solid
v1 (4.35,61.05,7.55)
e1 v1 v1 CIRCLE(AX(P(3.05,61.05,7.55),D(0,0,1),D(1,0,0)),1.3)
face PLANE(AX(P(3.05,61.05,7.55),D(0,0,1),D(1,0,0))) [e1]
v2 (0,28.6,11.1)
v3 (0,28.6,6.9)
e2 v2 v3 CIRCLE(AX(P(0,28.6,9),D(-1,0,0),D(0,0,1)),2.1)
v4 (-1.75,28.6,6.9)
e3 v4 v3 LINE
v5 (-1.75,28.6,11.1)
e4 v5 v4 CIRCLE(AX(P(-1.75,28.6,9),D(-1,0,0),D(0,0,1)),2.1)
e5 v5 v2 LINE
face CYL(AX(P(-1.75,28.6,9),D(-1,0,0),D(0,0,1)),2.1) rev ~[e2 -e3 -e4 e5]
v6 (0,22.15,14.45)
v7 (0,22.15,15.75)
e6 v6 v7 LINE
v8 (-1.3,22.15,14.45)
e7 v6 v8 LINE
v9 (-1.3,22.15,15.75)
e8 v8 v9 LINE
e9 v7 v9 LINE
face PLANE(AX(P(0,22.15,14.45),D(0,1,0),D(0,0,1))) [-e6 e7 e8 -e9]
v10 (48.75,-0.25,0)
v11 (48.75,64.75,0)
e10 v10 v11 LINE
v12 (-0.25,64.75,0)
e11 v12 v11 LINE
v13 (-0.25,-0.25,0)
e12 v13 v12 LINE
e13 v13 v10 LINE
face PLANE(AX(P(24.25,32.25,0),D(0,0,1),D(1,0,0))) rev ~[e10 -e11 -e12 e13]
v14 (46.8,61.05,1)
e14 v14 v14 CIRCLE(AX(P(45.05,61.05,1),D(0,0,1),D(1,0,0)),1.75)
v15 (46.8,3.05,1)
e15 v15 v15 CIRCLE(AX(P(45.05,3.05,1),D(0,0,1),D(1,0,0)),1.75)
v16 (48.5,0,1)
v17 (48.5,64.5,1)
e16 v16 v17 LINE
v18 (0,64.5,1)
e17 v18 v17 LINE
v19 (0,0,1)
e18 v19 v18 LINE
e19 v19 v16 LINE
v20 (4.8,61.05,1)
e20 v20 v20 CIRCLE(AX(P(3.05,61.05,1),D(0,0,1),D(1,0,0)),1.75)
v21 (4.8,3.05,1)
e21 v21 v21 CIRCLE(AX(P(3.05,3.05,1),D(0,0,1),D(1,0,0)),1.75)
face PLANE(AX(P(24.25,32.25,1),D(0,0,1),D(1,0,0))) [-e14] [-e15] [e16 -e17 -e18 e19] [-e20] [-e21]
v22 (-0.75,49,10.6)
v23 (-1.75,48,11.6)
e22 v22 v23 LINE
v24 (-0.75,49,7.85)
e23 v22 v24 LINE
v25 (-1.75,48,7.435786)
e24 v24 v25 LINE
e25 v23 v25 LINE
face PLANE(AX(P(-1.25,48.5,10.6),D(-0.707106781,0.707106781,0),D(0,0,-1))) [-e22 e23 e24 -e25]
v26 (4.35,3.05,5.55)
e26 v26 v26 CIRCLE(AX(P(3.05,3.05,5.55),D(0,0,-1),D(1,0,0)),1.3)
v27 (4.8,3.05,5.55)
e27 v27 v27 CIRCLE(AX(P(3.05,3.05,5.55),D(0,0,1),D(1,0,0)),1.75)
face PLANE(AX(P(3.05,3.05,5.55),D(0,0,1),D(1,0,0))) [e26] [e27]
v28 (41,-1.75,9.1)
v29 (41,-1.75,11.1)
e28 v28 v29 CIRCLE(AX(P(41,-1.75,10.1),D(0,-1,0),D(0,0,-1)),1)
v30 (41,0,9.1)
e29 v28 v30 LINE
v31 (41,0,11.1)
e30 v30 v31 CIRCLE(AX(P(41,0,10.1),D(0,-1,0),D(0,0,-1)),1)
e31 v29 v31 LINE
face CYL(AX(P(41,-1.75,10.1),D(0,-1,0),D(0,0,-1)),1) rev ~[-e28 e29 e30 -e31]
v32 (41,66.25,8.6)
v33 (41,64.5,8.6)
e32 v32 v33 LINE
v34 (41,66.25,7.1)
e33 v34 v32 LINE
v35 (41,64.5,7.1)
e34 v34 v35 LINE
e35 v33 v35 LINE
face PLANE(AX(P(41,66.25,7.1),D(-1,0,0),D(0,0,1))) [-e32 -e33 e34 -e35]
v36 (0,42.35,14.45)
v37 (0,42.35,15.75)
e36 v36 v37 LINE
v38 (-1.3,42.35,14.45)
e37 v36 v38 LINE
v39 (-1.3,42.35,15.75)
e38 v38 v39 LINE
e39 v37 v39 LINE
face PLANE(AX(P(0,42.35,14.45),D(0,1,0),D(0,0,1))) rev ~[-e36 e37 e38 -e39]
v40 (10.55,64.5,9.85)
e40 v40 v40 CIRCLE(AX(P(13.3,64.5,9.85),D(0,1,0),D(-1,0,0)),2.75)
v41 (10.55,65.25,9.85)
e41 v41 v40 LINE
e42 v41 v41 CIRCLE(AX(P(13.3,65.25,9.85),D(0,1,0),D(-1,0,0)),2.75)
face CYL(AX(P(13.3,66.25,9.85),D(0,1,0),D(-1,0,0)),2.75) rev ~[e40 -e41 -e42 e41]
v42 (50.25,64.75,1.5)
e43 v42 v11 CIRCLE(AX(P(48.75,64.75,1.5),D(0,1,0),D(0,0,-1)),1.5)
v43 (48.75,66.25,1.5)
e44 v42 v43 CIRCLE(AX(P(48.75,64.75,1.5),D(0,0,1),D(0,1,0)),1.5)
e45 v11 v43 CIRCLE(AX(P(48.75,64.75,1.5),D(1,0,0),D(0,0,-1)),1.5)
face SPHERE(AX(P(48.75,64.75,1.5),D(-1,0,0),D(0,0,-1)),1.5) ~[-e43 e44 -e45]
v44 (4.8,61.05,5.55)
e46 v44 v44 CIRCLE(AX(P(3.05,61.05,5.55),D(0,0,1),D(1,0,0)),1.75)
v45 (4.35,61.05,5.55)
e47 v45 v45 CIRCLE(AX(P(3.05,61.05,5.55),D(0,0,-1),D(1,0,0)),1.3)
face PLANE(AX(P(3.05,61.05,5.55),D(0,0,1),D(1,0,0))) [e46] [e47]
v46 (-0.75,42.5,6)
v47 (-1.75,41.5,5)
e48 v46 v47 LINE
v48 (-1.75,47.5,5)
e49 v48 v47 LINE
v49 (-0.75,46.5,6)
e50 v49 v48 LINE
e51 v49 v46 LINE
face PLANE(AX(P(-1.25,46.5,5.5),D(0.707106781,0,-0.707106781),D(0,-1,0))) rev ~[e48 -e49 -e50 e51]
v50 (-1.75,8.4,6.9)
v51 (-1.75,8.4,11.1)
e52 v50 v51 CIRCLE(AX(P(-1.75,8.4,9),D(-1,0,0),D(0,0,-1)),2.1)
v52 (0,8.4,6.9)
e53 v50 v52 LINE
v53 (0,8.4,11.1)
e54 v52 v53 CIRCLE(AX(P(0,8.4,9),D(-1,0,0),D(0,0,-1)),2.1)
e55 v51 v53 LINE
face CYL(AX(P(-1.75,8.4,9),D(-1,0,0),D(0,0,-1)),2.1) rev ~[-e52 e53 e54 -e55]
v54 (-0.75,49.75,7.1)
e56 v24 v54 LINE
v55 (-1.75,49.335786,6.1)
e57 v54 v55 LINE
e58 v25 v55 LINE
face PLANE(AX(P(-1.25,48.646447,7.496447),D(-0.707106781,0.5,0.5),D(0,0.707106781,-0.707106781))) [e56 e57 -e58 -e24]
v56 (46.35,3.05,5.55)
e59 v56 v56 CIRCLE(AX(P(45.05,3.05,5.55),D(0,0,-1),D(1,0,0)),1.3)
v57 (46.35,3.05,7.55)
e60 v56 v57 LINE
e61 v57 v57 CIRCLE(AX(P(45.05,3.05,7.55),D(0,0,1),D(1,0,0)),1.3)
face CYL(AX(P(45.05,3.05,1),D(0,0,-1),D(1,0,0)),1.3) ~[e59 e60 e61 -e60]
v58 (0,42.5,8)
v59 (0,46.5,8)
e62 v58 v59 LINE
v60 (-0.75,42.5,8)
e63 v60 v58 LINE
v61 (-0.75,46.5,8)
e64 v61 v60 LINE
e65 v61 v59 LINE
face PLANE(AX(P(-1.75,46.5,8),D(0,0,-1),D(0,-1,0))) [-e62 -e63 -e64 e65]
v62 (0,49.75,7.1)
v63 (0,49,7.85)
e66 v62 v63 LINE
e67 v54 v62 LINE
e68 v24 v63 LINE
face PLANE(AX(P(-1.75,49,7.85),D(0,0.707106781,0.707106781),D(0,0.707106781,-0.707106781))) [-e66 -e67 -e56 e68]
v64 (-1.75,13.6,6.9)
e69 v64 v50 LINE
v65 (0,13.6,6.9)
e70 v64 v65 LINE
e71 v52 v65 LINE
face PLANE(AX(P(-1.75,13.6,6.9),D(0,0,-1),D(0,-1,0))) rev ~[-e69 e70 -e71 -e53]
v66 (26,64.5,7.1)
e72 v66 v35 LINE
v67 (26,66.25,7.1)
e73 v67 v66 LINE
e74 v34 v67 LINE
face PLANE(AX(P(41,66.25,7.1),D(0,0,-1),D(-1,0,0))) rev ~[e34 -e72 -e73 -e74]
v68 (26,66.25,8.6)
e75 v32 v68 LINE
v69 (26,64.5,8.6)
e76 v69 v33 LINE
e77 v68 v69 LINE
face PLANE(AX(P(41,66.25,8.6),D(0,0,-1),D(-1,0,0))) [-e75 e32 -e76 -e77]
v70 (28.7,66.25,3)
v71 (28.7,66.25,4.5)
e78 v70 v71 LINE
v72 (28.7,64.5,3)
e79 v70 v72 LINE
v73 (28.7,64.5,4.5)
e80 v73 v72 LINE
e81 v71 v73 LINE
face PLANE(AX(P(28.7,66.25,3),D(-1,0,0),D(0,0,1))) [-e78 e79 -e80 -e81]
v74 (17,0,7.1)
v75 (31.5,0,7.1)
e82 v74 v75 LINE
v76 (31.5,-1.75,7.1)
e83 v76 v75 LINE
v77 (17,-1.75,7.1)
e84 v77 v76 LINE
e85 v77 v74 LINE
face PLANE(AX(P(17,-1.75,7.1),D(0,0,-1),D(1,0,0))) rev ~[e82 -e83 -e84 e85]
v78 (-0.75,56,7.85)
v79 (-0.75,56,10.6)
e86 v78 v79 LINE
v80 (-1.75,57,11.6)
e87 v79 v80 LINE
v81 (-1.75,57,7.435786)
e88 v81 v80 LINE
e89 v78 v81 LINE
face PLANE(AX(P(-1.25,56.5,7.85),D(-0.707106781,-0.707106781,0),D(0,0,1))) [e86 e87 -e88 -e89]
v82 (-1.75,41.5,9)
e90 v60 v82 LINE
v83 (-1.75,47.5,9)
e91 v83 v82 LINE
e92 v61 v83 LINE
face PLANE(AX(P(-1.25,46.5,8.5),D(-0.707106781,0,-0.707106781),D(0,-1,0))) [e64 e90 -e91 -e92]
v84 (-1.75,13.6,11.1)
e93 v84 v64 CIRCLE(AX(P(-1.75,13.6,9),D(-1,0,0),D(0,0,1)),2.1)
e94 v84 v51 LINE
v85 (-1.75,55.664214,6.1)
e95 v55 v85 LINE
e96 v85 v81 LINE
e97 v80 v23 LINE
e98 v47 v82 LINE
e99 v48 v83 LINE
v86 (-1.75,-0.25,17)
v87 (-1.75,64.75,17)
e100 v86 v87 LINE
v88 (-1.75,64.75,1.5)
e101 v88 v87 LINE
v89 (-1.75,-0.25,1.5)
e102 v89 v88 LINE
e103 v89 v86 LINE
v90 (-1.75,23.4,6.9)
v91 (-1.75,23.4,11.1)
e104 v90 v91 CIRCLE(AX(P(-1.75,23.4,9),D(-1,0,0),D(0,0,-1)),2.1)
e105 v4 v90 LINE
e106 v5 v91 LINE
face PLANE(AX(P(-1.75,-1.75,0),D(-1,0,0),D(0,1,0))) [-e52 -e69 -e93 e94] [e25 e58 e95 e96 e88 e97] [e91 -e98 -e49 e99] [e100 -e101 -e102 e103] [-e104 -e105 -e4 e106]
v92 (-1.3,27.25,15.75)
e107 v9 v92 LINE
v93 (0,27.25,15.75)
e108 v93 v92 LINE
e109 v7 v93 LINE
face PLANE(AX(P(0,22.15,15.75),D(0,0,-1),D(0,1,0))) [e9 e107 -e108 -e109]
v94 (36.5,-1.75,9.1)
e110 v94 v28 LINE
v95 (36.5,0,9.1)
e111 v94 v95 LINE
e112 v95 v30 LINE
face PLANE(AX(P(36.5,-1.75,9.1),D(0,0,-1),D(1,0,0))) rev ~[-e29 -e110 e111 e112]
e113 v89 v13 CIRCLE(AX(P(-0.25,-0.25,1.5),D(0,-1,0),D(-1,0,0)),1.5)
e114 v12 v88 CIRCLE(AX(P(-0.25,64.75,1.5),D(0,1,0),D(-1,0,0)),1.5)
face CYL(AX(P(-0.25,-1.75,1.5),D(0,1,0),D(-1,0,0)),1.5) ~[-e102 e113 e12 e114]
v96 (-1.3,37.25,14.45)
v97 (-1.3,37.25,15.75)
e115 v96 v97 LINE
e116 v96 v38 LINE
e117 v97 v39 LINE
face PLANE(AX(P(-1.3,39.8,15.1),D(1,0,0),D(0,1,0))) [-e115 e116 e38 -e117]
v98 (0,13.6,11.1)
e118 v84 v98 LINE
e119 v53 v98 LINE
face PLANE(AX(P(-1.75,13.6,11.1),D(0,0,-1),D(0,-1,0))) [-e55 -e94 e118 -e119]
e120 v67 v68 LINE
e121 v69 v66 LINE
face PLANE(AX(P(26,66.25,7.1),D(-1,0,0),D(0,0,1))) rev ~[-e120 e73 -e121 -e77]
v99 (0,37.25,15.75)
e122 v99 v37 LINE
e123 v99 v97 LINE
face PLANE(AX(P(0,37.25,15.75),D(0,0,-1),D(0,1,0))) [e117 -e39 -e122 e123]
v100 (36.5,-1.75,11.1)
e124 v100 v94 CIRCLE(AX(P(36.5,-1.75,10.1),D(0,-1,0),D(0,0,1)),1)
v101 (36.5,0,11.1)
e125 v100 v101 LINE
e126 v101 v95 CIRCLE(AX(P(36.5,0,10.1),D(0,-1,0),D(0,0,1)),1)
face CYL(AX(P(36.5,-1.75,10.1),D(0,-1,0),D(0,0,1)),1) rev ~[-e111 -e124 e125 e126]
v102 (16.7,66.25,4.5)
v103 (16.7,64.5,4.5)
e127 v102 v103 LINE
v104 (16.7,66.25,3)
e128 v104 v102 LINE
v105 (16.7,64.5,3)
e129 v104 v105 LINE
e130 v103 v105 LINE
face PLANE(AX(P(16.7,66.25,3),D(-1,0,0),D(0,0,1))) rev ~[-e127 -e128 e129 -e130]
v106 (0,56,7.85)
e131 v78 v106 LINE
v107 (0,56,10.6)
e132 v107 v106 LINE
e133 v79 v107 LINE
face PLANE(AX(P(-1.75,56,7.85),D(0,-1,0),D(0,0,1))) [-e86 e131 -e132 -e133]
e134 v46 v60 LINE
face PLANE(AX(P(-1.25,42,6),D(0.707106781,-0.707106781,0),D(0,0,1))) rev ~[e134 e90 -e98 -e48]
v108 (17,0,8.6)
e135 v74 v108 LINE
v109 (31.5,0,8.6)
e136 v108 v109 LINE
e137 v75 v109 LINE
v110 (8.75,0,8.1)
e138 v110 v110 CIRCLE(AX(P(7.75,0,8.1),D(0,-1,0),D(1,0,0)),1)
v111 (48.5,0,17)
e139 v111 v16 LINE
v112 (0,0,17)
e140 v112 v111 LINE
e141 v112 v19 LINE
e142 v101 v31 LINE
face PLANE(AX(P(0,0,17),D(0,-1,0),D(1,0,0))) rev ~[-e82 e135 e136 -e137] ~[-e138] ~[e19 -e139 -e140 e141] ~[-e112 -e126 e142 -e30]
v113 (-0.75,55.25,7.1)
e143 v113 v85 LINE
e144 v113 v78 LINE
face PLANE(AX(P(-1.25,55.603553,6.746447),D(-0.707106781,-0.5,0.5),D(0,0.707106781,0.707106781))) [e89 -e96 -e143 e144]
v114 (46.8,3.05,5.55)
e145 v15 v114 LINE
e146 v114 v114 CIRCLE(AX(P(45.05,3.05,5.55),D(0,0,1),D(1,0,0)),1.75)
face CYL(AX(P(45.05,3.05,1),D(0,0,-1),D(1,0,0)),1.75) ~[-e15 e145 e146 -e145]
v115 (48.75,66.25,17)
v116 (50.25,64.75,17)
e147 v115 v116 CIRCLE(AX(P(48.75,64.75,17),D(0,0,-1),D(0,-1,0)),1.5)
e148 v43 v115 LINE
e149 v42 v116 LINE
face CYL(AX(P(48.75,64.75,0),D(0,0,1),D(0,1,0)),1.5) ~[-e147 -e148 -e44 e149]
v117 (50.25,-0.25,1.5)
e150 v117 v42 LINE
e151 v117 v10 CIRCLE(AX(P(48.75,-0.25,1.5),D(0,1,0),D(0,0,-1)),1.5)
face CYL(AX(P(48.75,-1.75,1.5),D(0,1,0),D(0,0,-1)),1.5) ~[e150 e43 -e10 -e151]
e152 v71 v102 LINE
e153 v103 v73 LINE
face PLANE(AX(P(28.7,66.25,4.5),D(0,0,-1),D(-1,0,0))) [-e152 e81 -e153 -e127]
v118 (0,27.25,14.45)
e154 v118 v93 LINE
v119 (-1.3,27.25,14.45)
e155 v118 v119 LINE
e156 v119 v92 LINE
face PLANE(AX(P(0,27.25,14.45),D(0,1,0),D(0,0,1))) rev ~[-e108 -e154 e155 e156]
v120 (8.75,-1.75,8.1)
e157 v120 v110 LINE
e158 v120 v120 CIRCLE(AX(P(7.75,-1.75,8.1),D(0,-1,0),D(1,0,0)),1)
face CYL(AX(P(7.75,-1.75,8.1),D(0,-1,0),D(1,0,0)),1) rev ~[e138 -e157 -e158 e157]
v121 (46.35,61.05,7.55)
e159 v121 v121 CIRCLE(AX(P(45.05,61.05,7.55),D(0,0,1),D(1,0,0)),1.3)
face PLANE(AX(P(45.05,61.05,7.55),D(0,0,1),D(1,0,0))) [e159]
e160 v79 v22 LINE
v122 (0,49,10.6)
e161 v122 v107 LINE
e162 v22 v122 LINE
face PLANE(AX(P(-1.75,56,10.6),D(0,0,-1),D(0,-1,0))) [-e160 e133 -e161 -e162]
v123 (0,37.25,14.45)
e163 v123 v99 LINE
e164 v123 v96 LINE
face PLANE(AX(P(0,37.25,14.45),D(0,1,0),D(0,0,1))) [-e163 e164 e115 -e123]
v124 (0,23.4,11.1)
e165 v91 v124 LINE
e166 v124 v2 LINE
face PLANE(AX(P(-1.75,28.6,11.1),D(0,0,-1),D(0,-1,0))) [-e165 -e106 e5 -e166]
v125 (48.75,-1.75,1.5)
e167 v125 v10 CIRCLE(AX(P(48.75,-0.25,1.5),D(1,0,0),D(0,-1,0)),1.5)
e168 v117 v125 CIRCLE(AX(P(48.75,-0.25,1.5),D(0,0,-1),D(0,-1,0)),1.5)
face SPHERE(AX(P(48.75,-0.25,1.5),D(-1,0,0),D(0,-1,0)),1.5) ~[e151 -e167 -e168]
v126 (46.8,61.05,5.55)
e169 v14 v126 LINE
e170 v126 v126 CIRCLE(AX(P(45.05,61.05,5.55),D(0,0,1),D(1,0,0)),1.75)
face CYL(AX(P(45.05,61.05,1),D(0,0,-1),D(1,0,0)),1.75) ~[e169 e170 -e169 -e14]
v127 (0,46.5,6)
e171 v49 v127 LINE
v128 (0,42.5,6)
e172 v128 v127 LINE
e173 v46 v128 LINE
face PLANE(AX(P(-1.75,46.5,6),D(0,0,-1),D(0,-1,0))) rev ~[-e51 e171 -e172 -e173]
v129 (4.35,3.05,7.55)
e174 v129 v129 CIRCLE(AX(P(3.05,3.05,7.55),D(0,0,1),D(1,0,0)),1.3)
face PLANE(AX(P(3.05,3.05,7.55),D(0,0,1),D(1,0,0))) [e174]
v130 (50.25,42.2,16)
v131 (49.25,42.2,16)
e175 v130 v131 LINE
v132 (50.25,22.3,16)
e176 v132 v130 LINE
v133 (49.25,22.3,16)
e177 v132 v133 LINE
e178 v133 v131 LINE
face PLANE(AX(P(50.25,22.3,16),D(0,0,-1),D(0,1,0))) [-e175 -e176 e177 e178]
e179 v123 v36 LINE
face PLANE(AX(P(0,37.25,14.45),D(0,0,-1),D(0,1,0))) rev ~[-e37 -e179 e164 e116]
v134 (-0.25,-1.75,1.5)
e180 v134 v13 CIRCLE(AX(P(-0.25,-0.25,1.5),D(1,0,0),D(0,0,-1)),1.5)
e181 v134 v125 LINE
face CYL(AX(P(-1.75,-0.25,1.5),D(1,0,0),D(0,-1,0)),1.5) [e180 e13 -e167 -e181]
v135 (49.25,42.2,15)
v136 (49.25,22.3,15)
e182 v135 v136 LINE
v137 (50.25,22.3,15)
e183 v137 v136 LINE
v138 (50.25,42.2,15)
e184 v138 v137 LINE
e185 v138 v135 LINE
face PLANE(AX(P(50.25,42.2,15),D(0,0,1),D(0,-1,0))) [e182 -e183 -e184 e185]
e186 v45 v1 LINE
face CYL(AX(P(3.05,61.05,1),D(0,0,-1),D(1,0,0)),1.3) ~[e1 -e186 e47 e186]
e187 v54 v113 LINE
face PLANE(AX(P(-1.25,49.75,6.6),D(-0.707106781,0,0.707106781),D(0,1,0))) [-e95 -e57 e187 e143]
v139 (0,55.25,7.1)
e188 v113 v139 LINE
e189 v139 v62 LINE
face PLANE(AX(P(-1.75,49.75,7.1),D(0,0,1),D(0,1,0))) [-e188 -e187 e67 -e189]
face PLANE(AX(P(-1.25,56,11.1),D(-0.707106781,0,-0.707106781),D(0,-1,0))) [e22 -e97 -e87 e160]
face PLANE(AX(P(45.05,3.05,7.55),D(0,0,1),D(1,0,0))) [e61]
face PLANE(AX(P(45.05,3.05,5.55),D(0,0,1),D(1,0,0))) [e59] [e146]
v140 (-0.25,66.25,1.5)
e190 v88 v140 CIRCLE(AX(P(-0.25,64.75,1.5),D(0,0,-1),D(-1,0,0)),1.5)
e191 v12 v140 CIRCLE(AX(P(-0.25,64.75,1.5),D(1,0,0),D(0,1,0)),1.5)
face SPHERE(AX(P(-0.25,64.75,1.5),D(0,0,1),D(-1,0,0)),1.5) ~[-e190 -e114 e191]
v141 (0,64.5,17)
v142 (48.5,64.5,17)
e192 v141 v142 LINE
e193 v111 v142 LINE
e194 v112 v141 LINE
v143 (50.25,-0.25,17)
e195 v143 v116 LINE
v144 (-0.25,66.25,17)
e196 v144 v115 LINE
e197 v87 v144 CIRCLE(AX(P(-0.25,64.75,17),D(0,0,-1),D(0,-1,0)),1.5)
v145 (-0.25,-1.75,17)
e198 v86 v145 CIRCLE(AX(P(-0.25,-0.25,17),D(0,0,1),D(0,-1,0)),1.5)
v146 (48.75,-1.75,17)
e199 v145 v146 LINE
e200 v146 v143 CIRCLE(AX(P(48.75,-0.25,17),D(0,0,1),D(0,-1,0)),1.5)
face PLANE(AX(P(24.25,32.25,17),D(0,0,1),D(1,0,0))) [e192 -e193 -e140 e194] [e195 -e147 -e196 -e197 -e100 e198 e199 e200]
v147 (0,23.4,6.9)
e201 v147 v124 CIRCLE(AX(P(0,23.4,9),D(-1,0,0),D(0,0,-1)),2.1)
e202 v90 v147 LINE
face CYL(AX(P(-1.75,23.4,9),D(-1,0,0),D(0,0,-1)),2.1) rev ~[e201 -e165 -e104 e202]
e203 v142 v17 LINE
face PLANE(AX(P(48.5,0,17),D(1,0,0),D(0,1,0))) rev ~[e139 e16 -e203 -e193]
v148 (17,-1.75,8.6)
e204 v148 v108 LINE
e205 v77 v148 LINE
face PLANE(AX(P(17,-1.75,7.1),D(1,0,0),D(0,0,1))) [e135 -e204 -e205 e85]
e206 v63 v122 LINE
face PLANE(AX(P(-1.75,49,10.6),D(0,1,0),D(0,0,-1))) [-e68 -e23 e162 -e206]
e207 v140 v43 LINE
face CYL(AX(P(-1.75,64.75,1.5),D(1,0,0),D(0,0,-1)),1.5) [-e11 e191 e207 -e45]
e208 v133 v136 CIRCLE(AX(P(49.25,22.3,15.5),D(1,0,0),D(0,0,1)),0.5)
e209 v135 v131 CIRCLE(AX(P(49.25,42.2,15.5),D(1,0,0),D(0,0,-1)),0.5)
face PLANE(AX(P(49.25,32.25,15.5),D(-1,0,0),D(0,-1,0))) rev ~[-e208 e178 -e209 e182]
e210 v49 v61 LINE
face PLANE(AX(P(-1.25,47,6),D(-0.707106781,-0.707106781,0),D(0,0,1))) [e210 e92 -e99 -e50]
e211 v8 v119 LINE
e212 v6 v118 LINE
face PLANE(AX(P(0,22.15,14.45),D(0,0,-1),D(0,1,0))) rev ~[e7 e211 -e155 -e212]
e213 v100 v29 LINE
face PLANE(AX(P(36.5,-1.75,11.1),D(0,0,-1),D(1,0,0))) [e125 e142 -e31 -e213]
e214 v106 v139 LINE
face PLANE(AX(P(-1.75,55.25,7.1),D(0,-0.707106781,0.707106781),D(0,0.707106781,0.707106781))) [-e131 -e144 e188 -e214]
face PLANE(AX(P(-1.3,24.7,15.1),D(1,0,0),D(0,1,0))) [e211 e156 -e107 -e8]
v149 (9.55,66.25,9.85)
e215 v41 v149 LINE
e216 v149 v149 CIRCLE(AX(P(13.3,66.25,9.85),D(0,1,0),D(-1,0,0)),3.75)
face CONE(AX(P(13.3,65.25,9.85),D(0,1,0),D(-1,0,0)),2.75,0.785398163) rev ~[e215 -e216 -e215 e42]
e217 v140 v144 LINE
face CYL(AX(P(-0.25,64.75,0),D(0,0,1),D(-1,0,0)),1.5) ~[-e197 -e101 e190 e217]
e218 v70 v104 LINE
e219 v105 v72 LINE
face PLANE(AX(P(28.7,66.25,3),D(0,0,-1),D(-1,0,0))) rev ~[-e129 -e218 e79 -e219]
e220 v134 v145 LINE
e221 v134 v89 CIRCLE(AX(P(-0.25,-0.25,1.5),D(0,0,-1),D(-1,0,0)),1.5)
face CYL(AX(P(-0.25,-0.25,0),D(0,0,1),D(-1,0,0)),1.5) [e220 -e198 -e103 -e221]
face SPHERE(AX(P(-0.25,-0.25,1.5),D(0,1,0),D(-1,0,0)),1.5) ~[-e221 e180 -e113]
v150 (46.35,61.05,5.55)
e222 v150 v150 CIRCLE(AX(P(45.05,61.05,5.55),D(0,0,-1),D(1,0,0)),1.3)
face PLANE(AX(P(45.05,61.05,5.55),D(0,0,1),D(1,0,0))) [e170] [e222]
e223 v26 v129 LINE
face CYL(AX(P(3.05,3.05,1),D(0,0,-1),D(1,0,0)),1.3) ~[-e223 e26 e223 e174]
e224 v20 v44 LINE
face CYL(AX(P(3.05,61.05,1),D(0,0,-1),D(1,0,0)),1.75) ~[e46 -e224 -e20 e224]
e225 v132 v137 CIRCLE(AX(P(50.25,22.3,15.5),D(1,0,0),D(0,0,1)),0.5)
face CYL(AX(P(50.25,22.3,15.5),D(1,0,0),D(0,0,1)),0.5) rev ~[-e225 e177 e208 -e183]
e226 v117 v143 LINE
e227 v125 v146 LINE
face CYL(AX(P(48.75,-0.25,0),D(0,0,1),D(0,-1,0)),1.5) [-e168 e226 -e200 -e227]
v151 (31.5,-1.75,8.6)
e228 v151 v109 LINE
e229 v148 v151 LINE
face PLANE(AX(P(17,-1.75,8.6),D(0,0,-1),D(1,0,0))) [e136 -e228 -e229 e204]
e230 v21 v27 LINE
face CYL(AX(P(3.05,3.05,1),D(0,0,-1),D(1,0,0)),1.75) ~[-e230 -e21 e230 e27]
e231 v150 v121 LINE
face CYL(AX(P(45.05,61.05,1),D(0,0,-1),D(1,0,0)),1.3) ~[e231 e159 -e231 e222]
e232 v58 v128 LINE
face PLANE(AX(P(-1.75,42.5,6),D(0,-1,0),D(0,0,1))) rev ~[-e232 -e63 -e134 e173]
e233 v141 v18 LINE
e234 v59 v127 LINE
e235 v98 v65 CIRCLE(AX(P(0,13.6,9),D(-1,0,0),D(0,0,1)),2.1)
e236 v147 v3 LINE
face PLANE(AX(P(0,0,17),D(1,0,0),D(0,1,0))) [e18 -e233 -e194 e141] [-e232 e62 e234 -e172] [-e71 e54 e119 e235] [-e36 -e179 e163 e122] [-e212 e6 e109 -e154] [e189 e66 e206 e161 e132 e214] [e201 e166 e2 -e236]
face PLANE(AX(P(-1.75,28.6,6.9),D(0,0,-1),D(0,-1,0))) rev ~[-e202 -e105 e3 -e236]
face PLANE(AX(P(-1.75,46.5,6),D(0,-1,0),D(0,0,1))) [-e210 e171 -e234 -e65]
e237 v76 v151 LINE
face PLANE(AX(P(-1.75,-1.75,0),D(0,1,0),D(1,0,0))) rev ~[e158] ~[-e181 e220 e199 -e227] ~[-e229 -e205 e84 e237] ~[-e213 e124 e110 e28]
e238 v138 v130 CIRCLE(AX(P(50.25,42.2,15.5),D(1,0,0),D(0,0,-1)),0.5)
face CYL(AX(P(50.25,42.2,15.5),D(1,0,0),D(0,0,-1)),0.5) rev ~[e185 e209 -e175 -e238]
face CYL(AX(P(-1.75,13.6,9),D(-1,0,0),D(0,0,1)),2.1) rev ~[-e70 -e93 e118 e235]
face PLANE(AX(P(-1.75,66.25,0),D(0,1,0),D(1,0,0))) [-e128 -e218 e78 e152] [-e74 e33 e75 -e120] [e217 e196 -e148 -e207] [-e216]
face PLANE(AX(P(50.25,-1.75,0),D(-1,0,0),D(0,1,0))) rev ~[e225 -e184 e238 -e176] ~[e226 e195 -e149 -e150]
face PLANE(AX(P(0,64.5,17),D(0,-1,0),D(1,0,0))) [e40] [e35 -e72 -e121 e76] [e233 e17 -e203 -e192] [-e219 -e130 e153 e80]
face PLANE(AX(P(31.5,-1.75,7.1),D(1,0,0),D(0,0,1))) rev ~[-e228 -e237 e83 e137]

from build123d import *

# Parameters (mm, degrees)
SKETCH_W        = 52
SKETCH_H        = 68
PAD_DEPTH       = 17
SKETCH001_W     = 48.5
SKETCH001_H     = 64.5
POCKET_DEPTH    = 16
SKETCH002_R     = 1.75
PAD001_DEPTH    = 4.55
SKETCH003_R     = 1.3
PAD002_DEPTH    = 6.55
SKETCH004_W     = 4
SKETCH004_H     = 2
POCKET001_DEPTH = 5
POCKET002_DEPTH = 5
SKETCH006_R     = 2.75
SKETCH006_W     = 12
SKETCH006_H     = 1.5
SKETCH006_W_2   = 15
POCKET003_DEPTH = 5
SKETCH007_R     = 1
SKETCH007_W     = 14.5
SKETCH007_H     = 1.5
POCKET004_DEPTH = 5
POCKET006_DEPTH = 1
SKETCH008_W     = 5.1
SKETCH008_H     = 1.3
POCKET007_DEPTH = 1.3
CHAMFER_SIZE    = 1
FILLET_R        = 1.5


with BuildPart() as part:
    # Sketch → Pad (new body)
    with BuildSketch(Plane.XY):
        with Locations((24.25, 32.25)):
            Rectangle(SKETCH_W, SKETCH_H)
    extrude(amount=PAD_DEPTH)

    # Sketch001 → Pocket (cut)
    with BuildSketch(Plane.XY.offset(17)):
        with Locations((24.25, 32.25)):
            Rectangle(SKETCH001_W, SKETCH001_H)
    extrude(amount=-POCKET_DEPTH, mode=Mode.SUBTRACT)

    # Sketch002 (on Face11 of Pocket) → Pad001 (join)
    with BuildSketch(Plane.XY.offset(1)):
        with Locations((3.05, 3.05)):
            Circle(SKETCH002_R)
        with Locations((3.05, 61.05)):
            Circle(SKETCH002_R)
        with Locations((45.05, 3.05)):
            Circle(SKETCH002_R)
        with Locations((45.05, 61.05)):
            Circle(SKETCH002_R)
    extrude(amount=PAD001_DEPTH)

    # Sketch003 (on Face11 of Pad001) → Pad002 (join)
    with BuildSketch(Plane.XY.offset(1)):
        with Locations((3.05, 61.05)):
            Circle(SKETCH003_R)
        with Locations((45.05, 61.05)):
            Circle(SKETCH003_R)
        with Locations((3.05, 3.05)):
            Circle(SKETCH003_R)
        with Locations((45.05, 3.05)):
            Circle(SKETCH003_R)
    extrude(amount=PAD002_DEPTH)

    # Sketch004 (on Face2 of Pad002) → Pocket001 (cut)
    with BuildSketch(Plane(origin=(-1.75, 0, 0), x_dir=(0, -1, 0), z_dir=(-1, 0, 0))):
        with BuildLine():
            ThreePointArc((-28.6, 11.1), (-30.7, 9), (-28.6, 6.9))
            Line((-28.6, 6.9), (-23.4, 6.9))
            ThreePointArc((-23.4, 6.9), (-21.3, 9), (-23.4, 11.1))
            Line((-28.6, 11.1), (-23.4, 11.1))
        make_face()
        with BuildLine():
            ThreePointArc((-13.6, 11.1), (-15.7, 9), (-13.6, 6.9))
            Line((-13.6, 6.9), (-8.4, 6.9))
            ThreePointArc((-8.4, 6.9), (-6.3, 9), (-8.4, 11.1))
            Line((-13.6, 11.1), (-8.4, 11.1))
        make_face()
        with Locations((-44.5, 7)):
            Rectangle(SKETCH004_W, SKETCH004_H)
    extrude(amount=-POCKET001_DEPTH, mode=Mode.SUBTRACT)

    # Sketch005 (on Face2 of Pocket001) → Pocket002 (cut)
    with BuildSketch(Plane(origin=(-1.75, 0, 0), x_dir=(0, -1, 0), z_dir=(-1, 0, 0))):
        Polygon((-56, 10.6), (-49, 10.6), (-49, 7.85), (-49.75, 7.1), (-55.25, 7.1), (-56, 7.85), align=None)
    extrude(amount=-POCKET002_DEPTH, mode=Mode.SUBTRACT)

    # Sketch006 (on Face1 of Pocket002) → Pocket003 (cut)
    with BuildSketch(Plane(origin=(0, 66.25, 0), x_dir=(-1, 0, 0), z_dir=(0, 1, 0))):
        with Locations((-13.3, 9.85)):
            Circle(SKETCH006_R)
        with Locations((-22.7, 3.75)):
            Rectangle(SKETCH006_W, SKETCH006_H)
        with Locations((-33.5, 7.85)):
            Rectangle(SKETCH006_W_2, SKETCH006_H)
    extrude(amount=-POCKET003_DEPTH, mode=Mode.SUBTRACT)

    # Sketch007 (on Face15 of Pocket007) → Pocket004 (cut)
    with BuildSketch(Plane.XZ.offset(1.75)):
        with Locations((7.75, 8.1)):
            Circle(SKETCH007_R)
        with Locations((24.25, 7.85)):
            Rectangle(SKETCH007_W, SKETCH007_H)
        with BuildLine():
            ThreePointArc((36.5, 11.1), (35.5, 10.1), (36.5, 9.1))
            Line((36.5, 9.1), (41, 9.1))
            ThreePointArc((41, 9.1), (42, 10.1), (41, 11.1))
            Line((36.5, 11.1), (41, 11.1))
        make_face()
    extrude(amount=-POCKET004_DEPTH, mode=Mode.SUBTRACT)

    # Sketch009 → Pocket006 (cut)
    with BuildSketch(Plane.YZ.offset(50.25)):
        with BuildLine():
            Line((22.3, 16), (42.2, 16))
            ThreePointArc((42.2, 15), (42.7, 15.5), (42.2, 16))
            Line((42.2, 15), (22.3, 15))
            ThreePointArc((22.3, 16), (21.8, 15.5), (22.3, 15))
        make_face()
    extrude(amount=-POCKET006_DEPTH, mode=Mode.SUBTRACT)

    # Sketch008 (on Face34 of Pocket006) → Pocket007 (cut)
    with BuildSketch(Plane.YZ):
        with Locations((24.7, 15.1)):
            Rectangle(SKETCH008_W, SKETCH008_H)
        with Locations((39.8, 15.1)):
            Rectangle(SKETCH008_W, SKETCH008_H)
    extrude(amount=-POCKET007_DEPTH, mode=Mode.SUBTRACT)

    # Chamfer
    chamfer_edges = [part.edges().sort_by_distance(p)[0] for p in [
        (-1.75, 49.375, 7.475),
        (-1.75, 49, 9.225),
        (-1.75, 52.5, 10.6),
        (-1.75, 56, 9.225),
        (-1.75, 55.625, 7.475),
        (-1.75, 52.5, 7.1),
        (-1.75, 46.5, 7),
        (-1.75, 44.5, 8),
        (-1.75, 42.5, 7),
        (-1.75, 44.5, 6),
        (16.05, 66.25, 9.85),
    ]]
    chamfer(chamfer_edges, length=CHAMFER_SIZE)

    # Fillet
    fillet_edges = [part.edges().sort_by_distance(p)[0] for p in [
        (-1.75, 66.25, 8.5),
        (-1.75, 32.25, 0),
        (24.25, 66.25, 0),
        (-1.75, -1.75, 8.5),
        (24.25, -1.75, 0),
        (50.25, -1.75, 8.5),
        (50.25, 32.25, 0),
        (50.25, 66.25, 8.5),
    ]]
    fillet(fillet_edges, radius=FILLET_R)


solid = part.part
